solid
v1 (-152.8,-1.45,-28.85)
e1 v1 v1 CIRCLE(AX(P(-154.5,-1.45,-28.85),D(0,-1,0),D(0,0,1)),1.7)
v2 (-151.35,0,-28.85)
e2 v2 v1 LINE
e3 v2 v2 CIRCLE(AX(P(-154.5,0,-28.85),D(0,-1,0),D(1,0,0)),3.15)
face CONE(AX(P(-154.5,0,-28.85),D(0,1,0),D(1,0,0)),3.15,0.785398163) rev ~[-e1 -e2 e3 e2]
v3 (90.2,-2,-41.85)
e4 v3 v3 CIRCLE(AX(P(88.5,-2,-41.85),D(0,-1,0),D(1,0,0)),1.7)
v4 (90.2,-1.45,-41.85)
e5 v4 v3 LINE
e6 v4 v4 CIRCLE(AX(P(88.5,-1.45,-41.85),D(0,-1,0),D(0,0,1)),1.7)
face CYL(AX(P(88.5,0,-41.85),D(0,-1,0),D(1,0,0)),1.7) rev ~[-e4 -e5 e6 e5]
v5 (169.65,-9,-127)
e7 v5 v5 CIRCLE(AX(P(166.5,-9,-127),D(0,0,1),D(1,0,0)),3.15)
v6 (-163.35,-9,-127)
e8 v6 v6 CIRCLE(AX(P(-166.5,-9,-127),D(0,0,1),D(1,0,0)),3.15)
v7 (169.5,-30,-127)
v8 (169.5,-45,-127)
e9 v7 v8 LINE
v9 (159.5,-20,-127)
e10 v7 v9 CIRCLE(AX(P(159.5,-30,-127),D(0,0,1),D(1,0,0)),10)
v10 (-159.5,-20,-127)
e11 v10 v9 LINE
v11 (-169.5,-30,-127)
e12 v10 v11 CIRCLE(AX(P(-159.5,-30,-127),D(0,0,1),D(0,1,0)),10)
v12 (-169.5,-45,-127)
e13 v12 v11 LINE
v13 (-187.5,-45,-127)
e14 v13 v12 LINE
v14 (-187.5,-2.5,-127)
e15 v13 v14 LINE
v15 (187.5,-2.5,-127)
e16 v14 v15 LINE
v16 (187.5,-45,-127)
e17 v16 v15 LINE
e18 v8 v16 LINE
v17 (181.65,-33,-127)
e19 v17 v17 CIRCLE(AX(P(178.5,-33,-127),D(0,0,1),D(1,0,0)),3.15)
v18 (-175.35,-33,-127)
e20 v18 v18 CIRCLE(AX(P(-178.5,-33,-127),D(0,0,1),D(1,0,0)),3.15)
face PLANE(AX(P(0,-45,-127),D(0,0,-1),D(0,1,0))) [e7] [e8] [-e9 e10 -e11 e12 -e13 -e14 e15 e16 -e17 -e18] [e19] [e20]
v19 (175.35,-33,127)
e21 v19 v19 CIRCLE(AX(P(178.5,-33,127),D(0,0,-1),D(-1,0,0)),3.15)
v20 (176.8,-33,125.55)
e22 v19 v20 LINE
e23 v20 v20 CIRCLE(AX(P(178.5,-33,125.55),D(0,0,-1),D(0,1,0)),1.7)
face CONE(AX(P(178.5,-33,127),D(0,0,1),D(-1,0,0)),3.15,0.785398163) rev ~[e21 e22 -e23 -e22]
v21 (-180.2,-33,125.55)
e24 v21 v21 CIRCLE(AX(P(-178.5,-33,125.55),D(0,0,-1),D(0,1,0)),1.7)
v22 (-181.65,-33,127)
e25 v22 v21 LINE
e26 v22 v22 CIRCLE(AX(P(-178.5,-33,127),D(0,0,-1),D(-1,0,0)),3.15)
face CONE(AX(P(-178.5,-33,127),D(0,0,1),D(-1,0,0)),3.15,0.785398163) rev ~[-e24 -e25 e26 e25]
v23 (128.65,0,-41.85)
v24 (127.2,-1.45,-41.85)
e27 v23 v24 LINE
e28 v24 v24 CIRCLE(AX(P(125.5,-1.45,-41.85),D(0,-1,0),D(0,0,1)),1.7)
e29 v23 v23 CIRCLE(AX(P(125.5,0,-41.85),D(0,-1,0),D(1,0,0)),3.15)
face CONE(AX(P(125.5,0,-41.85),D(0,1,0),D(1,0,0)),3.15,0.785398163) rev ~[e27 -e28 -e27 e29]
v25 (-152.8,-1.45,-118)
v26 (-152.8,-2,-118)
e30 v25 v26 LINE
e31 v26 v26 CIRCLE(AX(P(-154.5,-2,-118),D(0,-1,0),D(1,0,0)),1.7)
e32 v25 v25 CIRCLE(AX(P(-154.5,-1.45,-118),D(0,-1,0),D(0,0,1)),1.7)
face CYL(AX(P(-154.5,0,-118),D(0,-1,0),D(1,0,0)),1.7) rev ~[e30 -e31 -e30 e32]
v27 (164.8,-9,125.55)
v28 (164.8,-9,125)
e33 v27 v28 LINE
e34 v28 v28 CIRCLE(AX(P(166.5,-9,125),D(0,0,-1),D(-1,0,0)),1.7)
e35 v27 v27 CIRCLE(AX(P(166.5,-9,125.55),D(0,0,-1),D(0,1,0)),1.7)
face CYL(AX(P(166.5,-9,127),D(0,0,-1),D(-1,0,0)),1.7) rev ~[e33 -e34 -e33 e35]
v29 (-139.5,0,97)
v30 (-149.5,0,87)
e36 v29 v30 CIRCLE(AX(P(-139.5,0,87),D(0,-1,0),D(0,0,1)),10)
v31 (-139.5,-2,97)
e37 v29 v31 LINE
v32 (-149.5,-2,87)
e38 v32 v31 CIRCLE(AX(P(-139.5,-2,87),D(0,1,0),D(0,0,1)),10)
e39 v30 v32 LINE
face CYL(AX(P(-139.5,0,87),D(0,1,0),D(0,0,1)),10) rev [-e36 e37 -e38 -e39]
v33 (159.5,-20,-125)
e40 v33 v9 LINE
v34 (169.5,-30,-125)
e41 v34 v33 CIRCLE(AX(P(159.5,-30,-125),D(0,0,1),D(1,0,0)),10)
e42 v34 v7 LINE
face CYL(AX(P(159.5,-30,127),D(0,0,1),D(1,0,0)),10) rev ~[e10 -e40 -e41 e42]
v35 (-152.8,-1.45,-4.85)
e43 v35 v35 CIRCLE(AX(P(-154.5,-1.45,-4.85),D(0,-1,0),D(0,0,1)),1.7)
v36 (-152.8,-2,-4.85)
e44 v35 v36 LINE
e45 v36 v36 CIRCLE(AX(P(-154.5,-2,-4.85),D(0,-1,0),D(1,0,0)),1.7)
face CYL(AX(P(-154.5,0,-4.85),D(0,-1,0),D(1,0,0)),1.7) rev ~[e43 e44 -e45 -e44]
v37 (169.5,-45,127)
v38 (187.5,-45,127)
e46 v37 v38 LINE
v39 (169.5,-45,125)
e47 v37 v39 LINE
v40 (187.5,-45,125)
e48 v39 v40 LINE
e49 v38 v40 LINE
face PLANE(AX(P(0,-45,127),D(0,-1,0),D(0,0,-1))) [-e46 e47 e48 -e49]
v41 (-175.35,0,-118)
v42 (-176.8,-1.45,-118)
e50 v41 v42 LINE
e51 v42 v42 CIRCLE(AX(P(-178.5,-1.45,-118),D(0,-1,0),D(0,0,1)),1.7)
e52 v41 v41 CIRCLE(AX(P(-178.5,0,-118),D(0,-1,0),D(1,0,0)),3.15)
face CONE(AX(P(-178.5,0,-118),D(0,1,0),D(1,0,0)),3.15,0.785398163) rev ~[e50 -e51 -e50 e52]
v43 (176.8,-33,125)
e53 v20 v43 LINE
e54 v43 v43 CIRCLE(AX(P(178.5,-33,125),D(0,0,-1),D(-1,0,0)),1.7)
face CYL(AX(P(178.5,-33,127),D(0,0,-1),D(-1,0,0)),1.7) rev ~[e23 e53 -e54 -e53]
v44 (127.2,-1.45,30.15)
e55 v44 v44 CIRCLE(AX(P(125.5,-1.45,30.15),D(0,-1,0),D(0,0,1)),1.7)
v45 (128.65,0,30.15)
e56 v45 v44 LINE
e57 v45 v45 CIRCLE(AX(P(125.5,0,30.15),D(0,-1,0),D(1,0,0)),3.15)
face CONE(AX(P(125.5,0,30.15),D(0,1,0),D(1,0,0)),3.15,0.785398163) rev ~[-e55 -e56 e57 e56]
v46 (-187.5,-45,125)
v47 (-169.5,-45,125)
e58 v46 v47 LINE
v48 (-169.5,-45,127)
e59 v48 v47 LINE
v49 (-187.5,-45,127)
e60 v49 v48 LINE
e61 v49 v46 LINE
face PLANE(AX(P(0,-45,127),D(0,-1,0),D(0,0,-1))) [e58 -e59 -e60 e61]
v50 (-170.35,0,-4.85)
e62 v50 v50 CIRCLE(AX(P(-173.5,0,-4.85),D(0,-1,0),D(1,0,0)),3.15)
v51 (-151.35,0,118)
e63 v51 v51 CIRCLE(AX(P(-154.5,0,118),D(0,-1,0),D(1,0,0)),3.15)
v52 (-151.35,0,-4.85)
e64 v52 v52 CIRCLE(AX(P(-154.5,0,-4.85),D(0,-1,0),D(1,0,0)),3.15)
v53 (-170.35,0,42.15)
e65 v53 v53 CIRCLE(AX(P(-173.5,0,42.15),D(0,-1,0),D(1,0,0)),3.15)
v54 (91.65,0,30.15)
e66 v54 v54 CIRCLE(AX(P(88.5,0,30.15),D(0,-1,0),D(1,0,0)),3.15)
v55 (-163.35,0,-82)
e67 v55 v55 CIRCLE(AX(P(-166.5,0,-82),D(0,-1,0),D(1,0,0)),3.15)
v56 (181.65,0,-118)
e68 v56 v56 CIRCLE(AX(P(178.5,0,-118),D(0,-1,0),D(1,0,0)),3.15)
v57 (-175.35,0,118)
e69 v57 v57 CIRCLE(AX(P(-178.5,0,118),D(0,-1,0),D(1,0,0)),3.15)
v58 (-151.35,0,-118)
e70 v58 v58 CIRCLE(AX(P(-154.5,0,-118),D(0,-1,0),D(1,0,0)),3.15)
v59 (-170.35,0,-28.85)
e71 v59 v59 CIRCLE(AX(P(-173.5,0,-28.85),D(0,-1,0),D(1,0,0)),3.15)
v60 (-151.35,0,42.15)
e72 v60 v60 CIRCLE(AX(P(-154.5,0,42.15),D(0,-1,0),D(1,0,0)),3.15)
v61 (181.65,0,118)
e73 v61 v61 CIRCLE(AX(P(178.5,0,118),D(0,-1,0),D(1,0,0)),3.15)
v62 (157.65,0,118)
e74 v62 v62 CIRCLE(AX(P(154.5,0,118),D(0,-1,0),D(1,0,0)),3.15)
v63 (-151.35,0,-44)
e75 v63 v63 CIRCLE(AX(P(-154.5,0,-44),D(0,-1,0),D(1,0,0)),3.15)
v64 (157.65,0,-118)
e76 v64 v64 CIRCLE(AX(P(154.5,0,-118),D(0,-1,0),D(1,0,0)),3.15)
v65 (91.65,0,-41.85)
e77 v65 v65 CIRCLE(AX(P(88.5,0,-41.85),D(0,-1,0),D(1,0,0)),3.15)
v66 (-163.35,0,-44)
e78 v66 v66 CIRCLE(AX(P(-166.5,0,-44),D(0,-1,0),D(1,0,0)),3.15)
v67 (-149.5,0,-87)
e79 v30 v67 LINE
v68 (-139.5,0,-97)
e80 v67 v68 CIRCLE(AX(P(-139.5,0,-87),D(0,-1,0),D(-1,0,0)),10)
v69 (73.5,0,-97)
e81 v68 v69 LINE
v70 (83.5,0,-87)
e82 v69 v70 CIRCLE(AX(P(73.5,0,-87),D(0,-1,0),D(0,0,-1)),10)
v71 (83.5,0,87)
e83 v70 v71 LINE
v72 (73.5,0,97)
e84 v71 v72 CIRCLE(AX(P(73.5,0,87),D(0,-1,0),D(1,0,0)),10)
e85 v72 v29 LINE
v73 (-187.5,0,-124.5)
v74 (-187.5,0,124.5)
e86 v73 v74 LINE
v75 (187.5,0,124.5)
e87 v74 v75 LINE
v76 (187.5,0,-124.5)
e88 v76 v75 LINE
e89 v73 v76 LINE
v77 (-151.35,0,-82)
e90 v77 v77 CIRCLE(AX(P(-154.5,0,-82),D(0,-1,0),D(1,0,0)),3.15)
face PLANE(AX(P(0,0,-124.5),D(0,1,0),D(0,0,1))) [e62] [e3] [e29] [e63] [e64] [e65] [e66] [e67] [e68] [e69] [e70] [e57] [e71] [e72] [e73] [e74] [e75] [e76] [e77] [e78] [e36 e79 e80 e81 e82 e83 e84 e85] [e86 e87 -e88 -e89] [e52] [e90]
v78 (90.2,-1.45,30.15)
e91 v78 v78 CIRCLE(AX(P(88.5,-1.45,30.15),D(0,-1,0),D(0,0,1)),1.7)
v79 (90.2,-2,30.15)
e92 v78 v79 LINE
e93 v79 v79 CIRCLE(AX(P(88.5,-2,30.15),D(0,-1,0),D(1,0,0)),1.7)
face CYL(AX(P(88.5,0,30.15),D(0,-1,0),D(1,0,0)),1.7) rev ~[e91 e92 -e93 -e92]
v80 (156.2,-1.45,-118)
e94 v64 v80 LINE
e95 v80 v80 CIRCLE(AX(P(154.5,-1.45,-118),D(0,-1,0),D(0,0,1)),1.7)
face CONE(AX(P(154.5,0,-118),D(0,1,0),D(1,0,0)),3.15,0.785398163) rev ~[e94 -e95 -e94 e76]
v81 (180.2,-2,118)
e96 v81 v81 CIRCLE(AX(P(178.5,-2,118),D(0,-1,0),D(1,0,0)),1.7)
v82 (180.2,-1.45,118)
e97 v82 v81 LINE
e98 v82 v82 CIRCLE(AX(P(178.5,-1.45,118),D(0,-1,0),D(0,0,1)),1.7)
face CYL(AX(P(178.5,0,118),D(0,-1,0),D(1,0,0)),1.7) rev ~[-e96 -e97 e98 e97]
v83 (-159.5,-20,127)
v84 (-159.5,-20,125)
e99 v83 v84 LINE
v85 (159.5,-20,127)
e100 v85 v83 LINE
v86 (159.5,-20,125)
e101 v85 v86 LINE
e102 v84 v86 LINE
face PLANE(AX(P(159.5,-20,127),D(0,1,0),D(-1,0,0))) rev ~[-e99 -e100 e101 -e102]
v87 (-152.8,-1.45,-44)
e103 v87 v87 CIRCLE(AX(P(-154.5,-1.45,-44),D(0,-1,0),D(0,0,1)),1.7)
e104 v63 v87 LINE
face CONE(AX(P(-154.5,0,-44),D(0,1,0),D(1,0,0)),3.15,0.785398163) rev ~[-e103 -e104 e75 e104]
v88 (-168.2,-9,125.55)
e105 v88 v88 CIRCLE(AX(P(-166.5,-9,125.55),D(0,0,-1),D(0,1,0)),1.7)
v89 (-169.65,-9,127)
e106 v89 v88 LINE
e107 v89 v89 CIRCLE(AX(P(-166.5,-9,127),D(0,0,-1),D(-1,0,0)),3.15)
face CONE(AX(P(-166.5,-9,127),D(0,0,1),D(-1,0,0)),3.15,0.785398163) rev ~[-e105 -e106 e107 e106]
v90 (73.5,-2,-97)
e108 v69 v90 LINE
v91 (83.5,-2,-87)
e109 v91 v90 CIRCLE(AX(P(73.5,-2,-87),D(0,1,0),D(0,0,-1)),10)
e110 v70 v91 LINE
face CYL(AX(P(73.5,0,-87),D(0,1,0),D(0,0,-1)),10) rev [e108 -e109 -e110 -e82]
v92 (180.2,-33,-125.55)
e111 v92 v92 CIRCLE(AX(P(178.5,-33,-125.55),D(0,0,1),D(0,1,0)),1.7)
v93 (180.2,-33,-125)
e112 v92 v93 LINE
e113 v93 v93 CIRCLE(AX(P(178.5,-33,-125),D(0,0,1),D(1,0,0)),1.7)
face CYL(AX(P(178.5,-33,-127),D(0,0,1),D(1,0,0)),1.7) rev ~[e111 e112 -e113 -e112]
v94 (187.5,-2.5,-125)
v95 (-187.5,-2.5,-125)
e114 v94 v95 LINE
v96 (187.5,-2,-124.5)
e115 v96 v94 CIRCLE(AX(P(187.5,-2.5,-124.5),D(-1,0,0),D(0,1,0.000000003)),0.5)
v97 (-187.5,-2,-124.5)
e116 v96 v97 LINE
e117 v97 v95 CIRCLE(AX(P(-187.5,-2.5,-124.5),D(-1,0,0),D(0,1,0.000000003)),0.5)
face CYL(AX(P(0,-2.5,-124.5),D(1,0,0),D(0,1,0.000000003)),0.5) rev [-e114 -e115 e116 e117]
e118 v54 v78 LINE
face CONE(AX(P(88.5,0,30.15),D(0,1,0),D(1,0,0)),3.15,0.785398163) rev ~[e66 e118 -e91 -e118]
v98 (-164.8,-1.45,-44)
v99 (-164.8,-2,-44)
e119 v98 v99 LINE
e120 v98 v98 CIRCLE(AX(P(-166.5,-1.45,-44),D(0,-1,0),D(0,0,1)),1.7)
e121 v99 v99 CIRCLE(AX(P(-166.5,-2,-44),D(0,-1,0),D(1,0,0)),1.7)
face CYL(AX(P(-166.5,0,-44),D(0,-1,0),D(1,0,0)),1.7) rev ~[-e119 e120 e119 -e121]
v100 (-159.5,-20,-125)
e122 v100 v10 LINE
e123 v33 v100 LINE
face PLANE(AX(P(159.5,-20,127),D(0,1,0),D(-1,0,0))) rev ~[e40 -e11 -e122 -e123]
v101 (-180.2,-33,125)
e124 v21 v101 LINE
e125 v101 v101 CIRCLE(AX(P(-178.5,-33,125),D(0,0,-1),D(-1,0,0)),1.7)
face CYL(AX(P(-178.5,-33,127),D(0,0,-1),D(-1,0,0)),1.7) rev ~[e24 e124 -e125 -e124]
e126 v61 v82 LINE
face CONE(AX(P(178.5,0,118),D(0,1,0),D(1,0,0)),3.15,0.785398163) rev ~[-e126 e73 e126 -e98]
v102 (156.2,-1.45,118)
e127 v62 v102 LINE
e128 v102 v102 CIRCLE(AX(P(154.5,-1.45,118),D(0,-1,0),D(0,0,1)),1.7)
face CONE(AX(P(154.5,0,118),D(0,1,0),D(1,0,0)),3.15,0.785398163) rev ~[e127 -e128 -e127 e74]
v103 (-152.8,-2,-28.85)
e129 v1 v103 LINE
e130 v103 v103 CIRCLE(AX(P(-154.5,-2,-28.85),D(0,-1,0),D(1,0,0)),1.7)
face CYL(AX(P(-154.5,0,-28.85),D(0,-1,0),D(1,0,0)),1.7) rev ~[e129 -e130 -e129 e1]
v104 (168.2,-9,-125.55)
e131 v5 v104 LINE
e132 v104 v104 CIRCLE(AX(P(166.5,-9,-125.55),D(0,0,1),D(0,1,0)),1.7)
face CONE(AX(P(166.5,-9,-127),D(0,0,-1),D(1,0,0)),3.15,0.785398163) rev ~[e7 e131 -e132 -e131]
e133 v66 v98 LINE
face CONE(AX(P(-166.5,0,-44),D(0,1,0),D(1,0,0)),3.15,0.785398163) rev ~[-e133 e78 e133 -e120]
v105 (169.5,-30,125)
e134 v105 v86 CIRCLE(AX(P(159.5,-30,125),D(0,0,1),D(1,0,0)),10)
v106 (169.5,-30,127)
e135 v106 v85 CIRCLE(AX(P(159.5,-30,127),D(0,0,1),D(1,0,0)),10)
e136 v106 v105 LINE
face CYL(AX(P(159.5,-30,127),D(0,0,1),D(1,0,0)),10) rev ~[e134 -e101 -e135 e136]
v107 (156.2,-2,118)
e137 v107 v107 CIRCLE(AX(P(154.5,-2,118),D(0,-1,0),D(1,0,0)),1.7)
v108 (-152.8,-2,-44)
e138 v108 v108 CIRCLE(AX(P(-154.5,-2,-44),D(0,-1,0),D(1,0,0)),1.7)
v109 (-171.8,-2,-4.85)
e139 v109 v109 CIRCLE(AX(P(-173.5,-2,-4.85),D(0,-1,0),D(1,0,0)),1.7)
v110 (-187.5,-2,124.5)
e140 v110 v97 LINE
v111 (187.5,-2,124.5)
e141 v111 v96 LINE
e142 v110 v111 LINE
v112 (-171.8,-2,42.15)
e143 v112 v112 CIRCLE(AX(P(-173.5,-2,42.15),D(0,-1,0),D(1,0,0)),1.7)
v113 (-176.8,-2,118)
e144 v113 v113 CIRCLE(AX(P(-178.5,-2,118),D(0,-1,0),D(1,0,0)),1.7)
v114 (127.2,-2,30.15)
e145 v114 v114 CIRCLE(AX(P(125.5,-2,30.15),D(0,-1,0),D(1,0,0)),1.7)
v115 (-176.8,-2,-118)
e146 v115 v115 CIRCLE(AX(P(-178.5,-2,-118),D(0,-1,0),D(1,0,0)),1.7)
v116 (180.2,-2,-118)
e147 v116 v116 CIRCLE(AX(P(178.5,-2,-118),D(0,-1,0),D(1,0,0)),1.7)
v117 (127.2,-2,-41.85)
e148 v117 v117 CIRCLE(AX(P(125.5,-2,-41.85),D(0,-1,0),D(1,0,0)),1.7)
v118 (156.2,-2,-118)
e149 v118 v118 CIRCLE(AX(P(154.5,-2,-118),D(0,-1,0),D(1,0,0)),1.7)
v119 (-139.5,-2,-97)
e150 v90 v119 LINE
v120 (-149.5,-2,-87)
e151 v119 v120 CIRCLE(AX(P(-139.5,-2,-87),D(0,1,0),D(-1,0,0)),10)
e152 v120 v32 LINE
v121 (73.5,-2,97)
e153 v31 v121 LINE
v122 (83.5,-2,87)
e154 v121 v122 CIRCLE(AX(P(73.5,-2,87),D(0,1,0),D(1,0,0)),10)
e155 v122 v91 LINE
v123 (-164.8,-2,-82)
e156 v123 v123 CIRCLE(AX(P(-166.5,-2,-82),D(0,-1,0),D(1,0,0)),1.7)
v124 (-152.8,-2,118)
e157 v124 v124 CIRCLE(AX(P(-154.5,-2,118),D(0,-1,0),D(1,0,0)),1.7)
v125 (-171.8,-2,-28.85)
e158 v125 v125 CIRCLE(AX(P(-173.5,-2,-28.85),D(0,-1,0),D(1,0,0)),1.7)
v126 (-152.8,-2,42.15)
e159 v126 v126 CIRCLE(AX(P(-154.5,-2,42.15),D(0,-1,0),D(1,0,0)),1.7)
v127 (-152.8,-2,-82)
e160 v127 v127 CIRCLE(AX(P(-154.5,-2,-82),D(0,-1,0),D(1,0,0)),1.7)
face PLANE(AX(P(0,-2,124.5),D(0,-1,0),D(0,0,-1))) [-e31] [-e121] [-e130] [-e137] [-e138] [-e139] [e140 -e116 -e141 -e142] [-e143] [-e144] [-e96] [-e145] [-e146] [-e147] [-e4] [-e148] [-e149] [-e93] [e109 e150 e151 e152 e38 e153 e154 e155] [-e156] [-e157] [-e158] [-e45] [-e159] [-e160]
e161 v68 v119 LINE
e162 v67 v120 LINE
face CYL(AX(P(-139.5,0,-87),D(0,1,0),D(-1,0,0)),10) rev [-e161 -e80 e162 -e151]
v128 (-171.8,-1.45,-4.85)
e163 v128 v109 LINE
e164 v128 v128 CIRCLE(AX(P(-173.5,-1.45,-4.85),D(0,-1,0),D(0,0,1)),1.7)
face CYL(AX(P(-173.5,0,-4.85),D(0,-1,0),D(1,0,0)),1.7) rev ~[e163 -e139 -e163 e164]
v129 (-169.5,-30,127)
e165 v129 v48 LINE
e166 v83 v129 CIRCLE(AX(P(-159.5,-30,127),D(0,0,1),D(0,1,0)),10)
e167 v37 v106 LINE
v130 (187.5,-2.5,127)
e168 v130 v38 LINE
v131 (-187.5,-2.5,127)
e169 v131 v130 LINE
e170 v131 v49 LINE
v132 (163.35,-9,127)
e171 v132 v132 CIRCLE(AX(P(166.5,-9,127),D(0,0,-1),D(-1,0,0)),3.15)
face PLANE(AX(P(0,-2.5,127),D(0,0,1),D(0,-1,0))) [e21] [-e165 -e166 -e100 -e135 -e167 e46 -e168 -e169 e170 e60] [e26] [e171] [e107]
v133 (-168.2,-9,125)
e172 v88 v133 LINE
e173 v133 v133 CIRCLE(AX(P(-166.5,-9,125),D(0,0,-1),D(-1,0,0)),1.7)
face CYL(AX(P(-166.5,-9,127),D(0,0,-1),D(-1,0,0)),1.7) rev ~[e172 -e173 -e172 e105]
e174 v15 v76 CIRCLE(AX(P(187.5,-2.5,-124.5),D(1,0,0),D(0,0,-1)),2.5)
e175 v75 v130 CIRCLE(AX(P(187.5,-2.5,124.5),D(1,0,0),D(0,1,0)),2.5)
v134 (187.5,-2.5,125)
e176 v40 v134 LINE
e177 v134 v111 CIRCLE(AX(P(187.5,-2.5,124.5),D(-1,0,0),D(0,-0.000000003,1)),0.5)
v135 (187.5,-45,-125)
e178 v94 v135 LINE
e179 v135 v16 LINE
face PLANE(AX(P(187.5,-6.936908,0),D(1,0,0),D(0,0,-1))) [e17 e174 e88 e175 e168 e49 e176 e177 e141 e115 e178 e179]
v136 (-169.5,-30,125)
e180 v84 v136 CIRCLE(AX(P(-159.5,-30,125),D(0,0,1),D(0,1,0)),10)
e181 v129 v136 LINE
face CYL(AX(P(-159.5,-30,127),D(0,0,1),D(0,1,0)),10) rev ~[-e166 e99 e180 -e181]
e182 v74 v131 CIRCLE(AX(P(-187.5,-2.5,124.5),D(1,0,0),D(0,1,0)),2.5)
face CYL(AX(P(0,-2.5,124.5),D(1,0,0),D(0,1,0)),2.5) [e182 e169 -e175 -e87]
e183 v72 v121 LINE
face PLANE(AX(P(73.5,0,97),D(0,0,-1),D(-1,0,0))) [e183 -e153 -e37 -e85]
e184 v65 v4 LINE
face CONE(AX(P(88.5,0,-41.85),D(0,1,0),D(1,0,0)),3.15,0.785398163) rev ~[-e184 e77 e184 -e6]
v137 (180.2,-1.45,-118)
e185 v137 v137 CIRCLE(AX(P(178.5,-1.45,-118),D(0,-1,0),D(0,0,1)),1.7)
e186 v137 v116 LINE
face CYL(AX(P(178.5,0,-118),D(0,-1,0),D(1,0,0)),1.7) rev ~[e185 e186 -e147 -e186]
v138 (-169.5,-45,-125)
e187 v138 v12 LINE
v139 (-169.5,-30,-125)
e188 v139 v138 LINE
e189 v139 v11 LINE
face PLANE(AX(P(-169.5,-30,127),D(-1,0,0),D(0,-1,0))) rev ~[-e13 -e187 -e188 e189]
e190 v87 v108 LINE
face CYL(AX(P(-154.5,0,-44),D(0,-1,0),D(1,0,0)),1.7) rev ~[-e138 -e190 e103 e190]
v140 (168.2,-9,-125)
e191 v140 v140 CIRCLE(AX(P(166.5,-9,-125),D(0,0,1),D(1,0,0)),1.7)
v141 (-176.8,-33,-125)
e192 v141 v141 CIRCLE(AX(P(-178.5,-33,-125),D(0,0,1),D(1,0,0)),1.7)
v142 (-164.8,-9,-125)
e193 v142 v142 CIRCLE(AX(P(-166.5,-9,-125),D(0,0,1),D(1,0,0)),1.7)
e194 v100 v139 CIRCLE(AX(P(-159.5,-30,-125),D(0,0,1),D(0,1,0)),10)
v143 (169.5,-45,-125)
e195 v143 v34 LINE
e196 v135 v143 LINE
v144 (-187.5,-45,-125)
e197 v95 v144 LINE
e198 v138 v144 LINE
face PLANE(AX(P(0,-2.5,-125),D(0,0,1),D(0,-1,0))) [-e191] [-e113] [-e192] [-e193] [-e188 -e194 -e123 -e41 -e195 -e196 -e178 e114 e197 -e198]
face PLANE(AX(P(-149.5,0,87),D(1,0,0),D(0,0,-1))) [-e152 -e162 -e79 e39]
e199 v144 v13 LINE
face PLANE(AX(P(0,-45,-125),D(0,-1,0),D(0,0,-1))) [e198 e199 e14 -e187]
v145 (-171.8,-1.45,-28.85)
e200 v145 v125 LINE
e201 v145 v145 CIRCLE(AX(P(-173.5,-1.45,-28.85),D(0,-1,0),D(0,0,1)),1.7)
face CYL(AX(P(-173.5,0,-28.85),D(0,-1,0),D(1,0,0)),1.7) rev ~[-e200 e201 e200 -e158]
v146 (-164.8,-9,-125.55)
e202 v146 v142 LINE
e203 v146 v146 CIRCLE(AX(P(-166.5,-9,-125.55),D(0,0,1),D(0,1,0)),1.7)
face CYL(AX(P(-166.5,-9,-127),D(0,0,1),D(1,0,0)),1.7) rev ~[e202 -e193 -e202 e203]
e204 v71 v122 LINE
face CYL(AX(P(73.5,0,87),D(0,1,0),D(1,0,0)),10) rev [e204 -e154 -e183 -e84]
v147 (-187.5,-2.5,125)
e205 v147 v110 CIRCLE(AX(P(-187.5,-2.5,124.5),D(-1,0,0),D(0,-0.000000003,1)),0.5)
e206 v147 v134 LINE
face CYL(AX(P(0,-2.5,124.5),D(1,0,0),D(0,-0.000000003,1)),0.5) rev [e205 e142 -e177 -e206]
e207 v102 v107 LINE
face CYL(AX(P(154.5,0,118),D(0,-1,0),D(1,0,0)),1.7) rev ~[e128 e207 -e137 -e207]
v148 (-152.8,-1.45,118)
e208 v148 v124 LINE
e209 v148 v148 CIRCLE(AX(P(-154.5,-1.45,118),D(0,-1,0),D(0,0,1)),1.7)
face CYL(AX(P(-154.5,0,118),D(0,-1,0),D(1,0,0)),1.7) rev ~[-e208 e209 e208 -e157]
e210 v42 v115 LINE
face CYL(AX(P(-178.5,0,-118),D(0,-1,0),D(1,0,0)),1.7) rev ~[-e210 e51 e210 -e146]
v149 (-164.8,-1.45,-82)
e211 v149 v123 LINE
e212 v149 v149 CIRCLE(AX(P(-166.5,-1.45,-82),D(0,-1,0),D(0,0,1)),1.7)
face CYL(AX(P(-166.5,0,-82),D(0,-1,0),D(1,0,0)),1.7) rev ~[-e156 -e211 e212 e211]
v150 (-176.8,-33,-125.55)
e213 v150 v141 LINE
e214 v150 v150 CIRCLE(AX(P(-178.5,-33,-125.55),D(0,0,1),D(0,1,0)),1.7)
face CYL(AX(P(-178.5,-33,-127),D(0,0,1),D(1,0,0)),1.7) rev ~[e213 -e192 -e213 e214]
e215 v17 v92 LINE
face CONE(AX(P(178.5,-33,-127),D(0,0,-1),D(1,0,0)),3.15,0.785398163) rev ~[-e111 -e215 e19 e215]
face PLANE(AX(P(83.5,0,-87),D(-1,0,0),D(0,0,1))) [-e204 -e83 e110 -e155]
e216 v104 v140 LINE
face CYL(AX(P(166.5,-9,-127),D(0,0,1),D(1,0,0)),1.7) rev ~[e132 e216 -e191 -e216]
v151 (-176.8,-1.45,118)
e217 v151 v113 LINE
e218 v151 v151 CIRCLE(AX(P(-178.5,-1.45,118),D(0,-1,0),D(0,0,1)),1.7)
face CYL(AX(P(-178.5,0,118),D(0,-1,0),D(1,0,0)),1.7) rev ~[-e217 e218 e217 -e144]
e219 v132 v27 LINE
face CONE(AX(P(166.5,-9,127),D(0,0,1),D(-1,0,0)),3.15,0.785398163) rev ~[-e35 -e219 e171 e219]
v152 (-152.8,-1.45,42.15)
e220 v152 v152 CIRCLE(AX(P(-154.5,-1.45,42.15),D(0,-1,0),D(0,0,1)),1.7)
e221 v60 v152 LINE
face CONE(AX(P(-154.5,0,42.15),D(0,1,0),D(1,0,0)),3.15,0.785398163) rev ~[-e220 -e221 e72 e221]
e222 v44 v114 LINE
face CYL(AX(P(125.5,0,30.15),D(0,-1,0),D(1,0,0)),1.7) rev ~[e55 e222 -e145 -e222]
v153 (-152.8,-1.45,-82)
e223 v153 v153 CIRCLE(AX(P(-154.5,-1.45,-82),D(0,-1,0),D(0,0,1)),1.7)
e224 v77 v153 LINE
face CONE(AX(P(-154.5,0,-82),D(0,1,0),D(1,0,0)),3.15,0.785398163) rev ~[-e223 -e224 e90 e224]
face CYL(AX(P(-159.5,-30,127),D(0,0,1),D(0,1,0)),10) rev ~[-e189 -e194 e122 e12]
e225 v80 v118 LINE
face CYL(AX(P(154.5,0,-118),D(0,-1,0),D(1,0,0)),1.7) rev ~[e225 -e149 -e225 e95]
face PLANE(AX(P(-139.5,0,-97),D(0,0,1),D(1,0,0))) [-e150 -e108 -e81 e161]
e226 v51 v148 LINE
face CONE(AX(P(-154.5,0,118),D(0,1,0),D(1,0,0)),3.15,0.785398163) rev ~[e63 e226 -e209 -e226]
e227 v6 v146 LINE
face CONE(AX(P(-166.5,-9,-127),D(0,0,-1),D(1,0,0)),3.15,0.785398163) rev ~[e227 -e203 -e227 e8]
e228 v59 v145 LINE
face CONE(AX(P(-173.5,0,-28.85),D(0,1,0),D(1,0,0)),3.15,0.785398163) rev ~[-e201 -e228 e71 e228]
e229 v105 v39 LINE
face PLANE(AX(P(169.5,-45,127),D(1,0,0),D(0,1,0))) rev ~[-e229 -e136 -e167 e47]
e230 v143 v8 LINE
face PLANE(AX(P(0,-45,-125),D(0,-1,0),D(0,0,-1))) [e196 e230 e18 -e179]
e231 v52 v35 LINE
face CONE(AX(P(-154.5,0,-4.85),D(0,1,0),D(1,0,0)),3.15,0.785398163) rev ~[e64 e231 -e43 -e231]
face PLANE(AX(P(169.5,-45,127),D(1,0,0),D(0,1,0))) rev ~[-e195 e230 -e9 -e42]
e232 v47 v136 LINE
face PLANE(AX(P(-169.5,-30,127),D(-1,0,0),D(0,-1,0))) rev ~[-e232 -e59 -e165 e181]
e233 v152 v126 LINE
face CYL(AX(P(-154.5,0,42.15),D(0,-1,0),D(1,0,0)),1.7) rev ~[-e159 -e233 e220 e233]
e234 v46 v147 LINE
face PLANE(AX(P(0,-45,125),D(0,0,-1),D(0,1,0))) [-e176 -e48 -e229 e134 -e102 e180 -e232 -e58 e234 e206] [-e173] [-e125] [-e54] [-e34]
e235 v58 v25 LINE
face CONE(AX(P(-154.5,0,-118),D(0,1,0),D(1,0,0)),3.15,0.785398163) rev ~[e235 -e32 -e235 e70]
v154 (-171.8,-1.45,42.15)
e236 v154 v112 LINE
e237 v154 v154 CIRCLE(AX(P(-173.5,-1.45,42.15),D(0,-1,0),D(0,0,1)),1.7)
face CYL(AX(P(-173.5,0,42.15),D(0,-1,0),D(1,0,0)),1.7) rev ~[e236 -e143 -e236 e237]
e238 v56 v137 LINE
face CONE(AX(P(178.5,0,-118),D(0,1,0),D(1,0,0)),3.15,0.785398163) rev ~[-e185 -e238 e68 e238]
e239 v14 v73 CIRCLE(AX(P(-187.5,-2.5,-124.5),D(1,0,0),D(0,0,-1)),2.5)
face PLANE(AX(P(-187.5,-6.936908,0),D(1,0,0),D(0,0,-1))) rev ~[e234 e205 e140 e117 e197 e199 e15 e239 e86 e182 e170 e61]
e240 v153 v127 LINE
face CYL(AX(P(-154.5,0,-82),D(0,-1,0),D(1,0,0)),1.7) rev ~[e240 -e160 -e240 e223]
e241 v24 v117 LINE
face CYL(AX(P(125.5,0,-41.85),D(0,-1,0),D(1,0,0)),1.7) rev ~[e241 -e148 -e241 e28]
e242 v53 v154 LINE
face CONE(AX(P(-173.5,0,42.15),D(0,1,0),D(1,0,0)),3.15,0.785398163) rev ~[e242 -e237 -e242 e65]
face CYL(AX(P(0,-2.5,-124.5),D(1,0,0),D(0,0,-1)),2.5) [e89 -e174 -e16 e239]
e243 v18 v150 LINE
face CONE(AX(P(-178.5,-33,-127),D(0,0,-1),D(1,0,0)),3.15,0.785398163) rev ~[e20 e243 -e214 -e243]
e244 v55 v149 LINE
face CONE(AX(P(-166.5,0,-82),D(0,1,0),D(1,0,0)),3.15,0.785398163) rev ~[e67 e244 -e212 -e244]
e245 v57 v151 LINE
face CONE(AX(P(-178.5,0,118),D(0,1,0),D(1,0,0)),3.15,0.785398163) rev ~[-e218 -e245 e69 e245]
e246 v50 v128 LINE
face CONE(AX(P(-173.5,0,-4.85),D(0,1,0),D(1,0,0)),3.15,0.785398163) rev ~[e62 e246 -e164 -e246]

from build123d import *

# Parameters (mm, degrees)
BOSS_EXTRUDE1_DEPTH                             = 187.5
CUT_EXTRUDE1_DEPTH                              = 255
CUT_EXTRUDE2_DEPTH                              = 10
SKETCH4_R                                       = 1.5
CUT_EXTRUDE3_DEPTH                              = 255
SKETCH5_R                                       = 1.5
CUT_EXTRUDE4_DEPTH                              = 10
CSK_FOR_M3_FLAT_HEAD_MACHINE_SCREW1_D           = 3.4
CSK_FOR_M3_FLAT_HEAD_MACHINE_SCREW1_CSINK_D     = 6.3
CSK_FOR_M3_FLAT_HEAD_MACHINE_SCREW1_CSINK_ANGLE = 90
CSK_FOR_M3_FLAT_HEAD_MACHINE_SCREW2_D           = 3.4
CSK_FOR_M3_FLAT_HEAD_MACHINE_SCREW2_DEPTH       = 10
CSK_FOR_M3_FLAT_HEAD_MACHINE_SCREW2_CSINK_D     = 6.3
CSK_FOR_M3_FLAT_HEAD_MACHINE_SCREW2_CSINK_ANGLE = 90
CSK_FOR_M3_FLAT_HEAD_MACHINE_SCREW2_TIP         = 1.021463052
CSK_FOR_M3_FLAT_HEAD_MACHINE_SCREW3_D           = 3.4
CSK_FOR_M3_FLAT_HEAD_MACHINE_SCREW3_DEPTH       = 10
CSK_FOR_M3_FLAT_HEAD_MACHINE_SCREW3_CSINK_D     = 6.3
CSK_FOR_M3_FLAT_HEAD_MACHINE_SCREW3_CSINK_ANGLE = 90
CSK_FOR_M3_FLAT_HEAD_MACHINE_SCREW3_TIP         = 1.021463052


with BuildPart() as part:
    # Sketch1 → Boss-Extrude1 (new body, symmetric)
    with BuildSketch(Plane(origin=(0, 0, 0), x_dir=(0, 0, -1), z_dir=(1, 0, 0))):
        with BuildLine():
            Line((125, -45), (127, -45))
            Line((127, -45), (127, -2.5))
            ThreePointArc((127, -2.5), (126.267766953, -0.732233047), (124.5, 0))
            Line((124.5, 0), (-124.5, 0))
            ThreePointArc((-124.5, 0), (-126.267766953, -0.732233047), (-127, -2.5))
            Line((-127, -2.5), (-127, -45))
            Line((-127, -45), (-125, -45))
            Line((-125, -45), (-125, -2.5))
            ThreePointArc((-125, -2.5), (-124.853553391, -2.146446609), (-124.5, -2))
            Line((-124.5, -2), (124.5, -2))
            ThreePointArc((124.5, -2), (124.853553391, -2.146446609), (125, -2.5))
            Line((125, -2.5), (125, -45))
        make_face()
    extrude(amount=BOSS_EXTRUDE1_DEPTH, both=True)

    # Sketch2 → Cut-Extrude1 (cut, through all)
    with BuildSketch(Plane.XY.offset(127)):
        with BuildLine():
            Line((-169.5, -45), (169.5, -45))
            Line((169.5, -45), (169.5, -30))
            ThreePointArc((169.5, -30), (166.571067812, -22.928932188), (159.5, -20))
            Line((159.5, -20), (-159.5, -20))
            ThreePointArc((-159.5, -20), (-166.571067812, -22.928932188), (-169.5, -30))
            Line((-169.5, -30), (-169.5, -45))
        make_face()
    extrude(amount=-CUT_EXTRUDE1_DEPTH, mode=Mode.SUBTRACT)

    # Sketch3 → Cut-Extrude2 (cut)
    with BuildSketch(Plane(origin=(0, 0, 0), x_dir=(1, 0, 0), z_dir=(0, 1, 0))):
        with BuildLine():
            Line((-139.5, 97), (73.5, 97))
            ThreePointArc((73.5, 97), (80.571067812, 94.071067812), (83.5, 87))
            Line((83.5, 87), (83.5, -87))
            ThreePointArc((83.5, -87), (80.571067812, -94.071067812), (73.5, -97))
            Line((73.5, -97), (-139.5, -97))
            ThreePointArc((-139.5, -97), (-146.571067812, -94.071067812), (-149.5, -87))
            Line((-149.5, -87), (-149.5, 87))
            ThreePointArc((-149.5, 87), (-146.571067812, 94.071067812), (-139.5, 97))
        make_face()
    extrude(amount=-CUT_EXTRUDE2_DEPTH, mode=Mode.SUBTRACT)

    # Sketch4 → Cut-Extrude3 (cut, through all)
    with BuildSketch(Plane.XY.offset(127)):
        with Locations((-178.5, -33)):
            Circle(SKETCH4_R)
        with Locations((-166.5, -9)):
            Circle(SKETCH4_R)
        with Locations((166.5, -9)):
            Circle(SKETCH4_R)
        with Locations((178.5, -33)):
            Circle(SKETCH4_R)
    extrude(amount=-CUT_EXTRUDE3_DEPTH, mode=Mode.SUBTRACT)

    # Sketch5 → Cut-Extrude4 (cut)
    with BuildSketch(Plane(origin=(0, 0, 0), x_dir=(1, 0, 0), z_dir=(0, 1, 0))):
        with Locations(Location((-178.5, 118, 0), (0, 0, 270))):  # turned: the seam where the file's is
            Circle(SKETCH5_R)
        with Locations(Location((-154.5, 118, 0), (0, 0, 270))):  # turned: the seam where the file's is
            Circle(SKETCH5_R)
        with Locations(Location((154.5, 118, 0), (0, 0, 270))):  # turned: the seam where the file's is
            Circle(SKETCH5_R)
        with Locations(Location((178.5, 118, 0), (0, 0, 270))):  # turned: the seam where the file's is
            Circle(SKETCH5_R)
        with Locations(Location((178.5, -118, 0), (0, 0, 270))):  # turned: the seam where the file's is
            Circle(SKETCH5_R)
        with Locations(Location((154.5, -118, 0), (0, 0, 270))):  # turned: the seam where the file's is
            Circle(SKETCH5_R)
        with Locations(Location((-178.5, -118, 0), (0, 0, 270))):  # turned: the seam where the file's is
            Circle(SKETCH5_R)
        with Locations(Location((-154.5, -118, 0), (0, 0, 270))):  # turned: the seam where the file's is
            Circle(SKETCH5_R)
        with Locations(Location((88.5, 41.85, 0), (0, 0, 270))):  # turned: the seam where the file's is
            Circle(SKETCH5_R)
        with Locations(Location((88.5, -30.15, 0), (0, 0, 270))):  # turned: the seam where the file's is
            Circle(SKETCH5_R)
        with Locations(Location((125.5, 41.85, 0), (0, 0, 270))):  # turned: the seam where the file's is
            Circle(SKETCH5_R)
        with Locations(Location((125.5, -30.15, 0), (0, 0, 270))):  # turned: the seam where the file's is
            Circle(SKETCH5_R)
        with Locations(Location((-154.5, 28.85, 0), (0, 0, 270))):  # turned: the seam where the file's is
            Circle(SKETCH5_R)
        with Locations(Location((-173.5, 28.85, 0), (0, 0, 270))):  # turned: the seam where the file's is
            Circle(SKETCH5_R)
        with Locations(Location((-173.5, 4.85, 0), (0, 0, 270))):  # turned: the seam where the file's is
            Circle(SKETCH5_R)
        with Locations(Location((-154.5, 4.85, 0), (0, 0, 270))):  # turned: the seam where the file's is
            Circle(SKETCH5_R)
        with Locations(Location((-154.5, -42.15, 0), (0, 0, 270))):  # turned: the seam where the file's is
            Circle(SKETCH5_R)
        with Locations(Location((-173.5, -42.15, 0), (0, 0, 270))):  # turned: the seam where the file's is
            Circle(SKETCH5_R)
        with Locations(Location((-166.5, 82, 0), (0, 0, 270))):  # turned: the seam where the file's is
            Circle(SKETCH5_R)
        with Locations(Location((-154.5, 82, 0), (0, 0, 270))):  # turned: the seam where the file's is
            Circle(SKETCH5_R)
        with Locations(Location((-166.5, 44, 0), (0, 0, 270))):  # turned: the seam where the file's is
            Circle(SKETCH5_R)
        with Locations(Location((-154.5, 44, 0), (0, 0, 270))):  # turned: the seam where the file's is
            Circle(SKETCH5_R)
    extrude(amount=-CUT_EXTRUDE4_DEPTH, mode=Mode.SUBTRACT)

    # CSK for M3 Flat Head Machine Screw1 (through all)
    with Locations(Plane(origin=(0, 0, 0), x_dir=(-1, 0, 0), z_dir=(0, 1, 0))):
        with Locations((154.5, 118), (178.5, 118), (154.5, 42.15), (173.5, 42.15), (154.5, -4.85), (173.5, -4.85), (173.5, -28.85), (154.5, -28.85), (154.5, -44), (166.5, -44), (166.5, -82), (154.5, -82), (178.5, -118), (154.5, -118), (-154.5, -118), (-178.5, -118), (-125.5, -41.85), (-88.5, -41.85), (-125.5, 30.15), (-88.5, 30.15), (-178.5, 118), (-154.5, 118)):
            CounterSinkHole(CSK_FOR_M3_FLAT_HEAD_MACHINE_SCREW1_D / 2, CSK_FOR_M3_FLAT_HEAD_MACHINE_SCREW1_CSINK_D / 2, counter_sink_angle=CSK_FOR_M3_FLAT_HEAD_MACHINE_SCREW1_CSINK_ANGLE)

    # CSK for M3 Flat Head Machine Screw2
    with Locations(Plane.XY.offset(127)):
        with Locations((166.5, -9), (178.5, -33), (-178.5, -33), (-166.5, -9)):
            CounterSinkHole(CSK_FOR_M3_FLAT_HEAD_MACHINE_SCREW2_D / 2, CSK_FOR_M3_FLAT_HEAD_MACHINE_SCREW2_CSINK_D / 2, depth=CSK_FOR_M3_FLAT_HEAD_MACHINE_SCREW2_DEPTH, counter_sink_angle=CSK_FOR_M3_FLAT_HEAD_MACHINE_SCREW2_CSINK_ANGLE)
            with Locations((0, 0, -(CSK_FOR_M3_FLAT_HEAD_MACHINE_SCREW2_DEPTH + CSK_FOR_M3_FLAT_HEAD_MACHINE_SCREW2_TIP / 2))):  # 118° drill point
                Cone(0, CSK_FOR_M3_FLAT_HEAD_MACHINE_SCREW2_D / 2, CSK_FOR_M3_FLAT_HEAD_MACHINE_SCREW2_TIP, mode=Mode.SUBTRACT)

    # CSK for M3 Flat Head Machine Screw3
    with Locations(Plane(origin=(0, 0, -127), x_dir=(-1, 0, 0), z_dir=(0, 0, -1))):
        with Locations((-166.5, -9), (178.5, -33), (166.5, -9), (-178.5, -33)):
            CounterSinkHole(CSK_FOR_M3_FLAT_HEAD_MACHINE_SCREW3_D / 2, CSK_FOR_M3_FLAT_HEAD_MACHINE_SCREW3_CSINK_D / 2, depth=CSK_FOR_M3_FLAT_HEAD_MACHINE_SCREW3_DEPTH, counter_sink_angle=CSK_FOR_M3_FLAT_HEAD_MACHINE_SCREW3_CSINK_ANGLE)
            with Locations((0, 0, -(CSK_FOR_M3_FLAT_HEAD_MACHINE_SCREW3_DEPTH + CSK_FOR_M3_FLAT_HEAD_MACHINE_SCREW3_TIP / 2))):  # 118° drill point
                Cone(0, CSK_FOR_M3_FLAT_HEAD_MACHINE_SCREW3_D / 2, CSK_FOR_M3_FLAT_HEAD_MACHINE_SCREW3_TIP, mode=Mode.SUBTRACT)


solid = part.part
